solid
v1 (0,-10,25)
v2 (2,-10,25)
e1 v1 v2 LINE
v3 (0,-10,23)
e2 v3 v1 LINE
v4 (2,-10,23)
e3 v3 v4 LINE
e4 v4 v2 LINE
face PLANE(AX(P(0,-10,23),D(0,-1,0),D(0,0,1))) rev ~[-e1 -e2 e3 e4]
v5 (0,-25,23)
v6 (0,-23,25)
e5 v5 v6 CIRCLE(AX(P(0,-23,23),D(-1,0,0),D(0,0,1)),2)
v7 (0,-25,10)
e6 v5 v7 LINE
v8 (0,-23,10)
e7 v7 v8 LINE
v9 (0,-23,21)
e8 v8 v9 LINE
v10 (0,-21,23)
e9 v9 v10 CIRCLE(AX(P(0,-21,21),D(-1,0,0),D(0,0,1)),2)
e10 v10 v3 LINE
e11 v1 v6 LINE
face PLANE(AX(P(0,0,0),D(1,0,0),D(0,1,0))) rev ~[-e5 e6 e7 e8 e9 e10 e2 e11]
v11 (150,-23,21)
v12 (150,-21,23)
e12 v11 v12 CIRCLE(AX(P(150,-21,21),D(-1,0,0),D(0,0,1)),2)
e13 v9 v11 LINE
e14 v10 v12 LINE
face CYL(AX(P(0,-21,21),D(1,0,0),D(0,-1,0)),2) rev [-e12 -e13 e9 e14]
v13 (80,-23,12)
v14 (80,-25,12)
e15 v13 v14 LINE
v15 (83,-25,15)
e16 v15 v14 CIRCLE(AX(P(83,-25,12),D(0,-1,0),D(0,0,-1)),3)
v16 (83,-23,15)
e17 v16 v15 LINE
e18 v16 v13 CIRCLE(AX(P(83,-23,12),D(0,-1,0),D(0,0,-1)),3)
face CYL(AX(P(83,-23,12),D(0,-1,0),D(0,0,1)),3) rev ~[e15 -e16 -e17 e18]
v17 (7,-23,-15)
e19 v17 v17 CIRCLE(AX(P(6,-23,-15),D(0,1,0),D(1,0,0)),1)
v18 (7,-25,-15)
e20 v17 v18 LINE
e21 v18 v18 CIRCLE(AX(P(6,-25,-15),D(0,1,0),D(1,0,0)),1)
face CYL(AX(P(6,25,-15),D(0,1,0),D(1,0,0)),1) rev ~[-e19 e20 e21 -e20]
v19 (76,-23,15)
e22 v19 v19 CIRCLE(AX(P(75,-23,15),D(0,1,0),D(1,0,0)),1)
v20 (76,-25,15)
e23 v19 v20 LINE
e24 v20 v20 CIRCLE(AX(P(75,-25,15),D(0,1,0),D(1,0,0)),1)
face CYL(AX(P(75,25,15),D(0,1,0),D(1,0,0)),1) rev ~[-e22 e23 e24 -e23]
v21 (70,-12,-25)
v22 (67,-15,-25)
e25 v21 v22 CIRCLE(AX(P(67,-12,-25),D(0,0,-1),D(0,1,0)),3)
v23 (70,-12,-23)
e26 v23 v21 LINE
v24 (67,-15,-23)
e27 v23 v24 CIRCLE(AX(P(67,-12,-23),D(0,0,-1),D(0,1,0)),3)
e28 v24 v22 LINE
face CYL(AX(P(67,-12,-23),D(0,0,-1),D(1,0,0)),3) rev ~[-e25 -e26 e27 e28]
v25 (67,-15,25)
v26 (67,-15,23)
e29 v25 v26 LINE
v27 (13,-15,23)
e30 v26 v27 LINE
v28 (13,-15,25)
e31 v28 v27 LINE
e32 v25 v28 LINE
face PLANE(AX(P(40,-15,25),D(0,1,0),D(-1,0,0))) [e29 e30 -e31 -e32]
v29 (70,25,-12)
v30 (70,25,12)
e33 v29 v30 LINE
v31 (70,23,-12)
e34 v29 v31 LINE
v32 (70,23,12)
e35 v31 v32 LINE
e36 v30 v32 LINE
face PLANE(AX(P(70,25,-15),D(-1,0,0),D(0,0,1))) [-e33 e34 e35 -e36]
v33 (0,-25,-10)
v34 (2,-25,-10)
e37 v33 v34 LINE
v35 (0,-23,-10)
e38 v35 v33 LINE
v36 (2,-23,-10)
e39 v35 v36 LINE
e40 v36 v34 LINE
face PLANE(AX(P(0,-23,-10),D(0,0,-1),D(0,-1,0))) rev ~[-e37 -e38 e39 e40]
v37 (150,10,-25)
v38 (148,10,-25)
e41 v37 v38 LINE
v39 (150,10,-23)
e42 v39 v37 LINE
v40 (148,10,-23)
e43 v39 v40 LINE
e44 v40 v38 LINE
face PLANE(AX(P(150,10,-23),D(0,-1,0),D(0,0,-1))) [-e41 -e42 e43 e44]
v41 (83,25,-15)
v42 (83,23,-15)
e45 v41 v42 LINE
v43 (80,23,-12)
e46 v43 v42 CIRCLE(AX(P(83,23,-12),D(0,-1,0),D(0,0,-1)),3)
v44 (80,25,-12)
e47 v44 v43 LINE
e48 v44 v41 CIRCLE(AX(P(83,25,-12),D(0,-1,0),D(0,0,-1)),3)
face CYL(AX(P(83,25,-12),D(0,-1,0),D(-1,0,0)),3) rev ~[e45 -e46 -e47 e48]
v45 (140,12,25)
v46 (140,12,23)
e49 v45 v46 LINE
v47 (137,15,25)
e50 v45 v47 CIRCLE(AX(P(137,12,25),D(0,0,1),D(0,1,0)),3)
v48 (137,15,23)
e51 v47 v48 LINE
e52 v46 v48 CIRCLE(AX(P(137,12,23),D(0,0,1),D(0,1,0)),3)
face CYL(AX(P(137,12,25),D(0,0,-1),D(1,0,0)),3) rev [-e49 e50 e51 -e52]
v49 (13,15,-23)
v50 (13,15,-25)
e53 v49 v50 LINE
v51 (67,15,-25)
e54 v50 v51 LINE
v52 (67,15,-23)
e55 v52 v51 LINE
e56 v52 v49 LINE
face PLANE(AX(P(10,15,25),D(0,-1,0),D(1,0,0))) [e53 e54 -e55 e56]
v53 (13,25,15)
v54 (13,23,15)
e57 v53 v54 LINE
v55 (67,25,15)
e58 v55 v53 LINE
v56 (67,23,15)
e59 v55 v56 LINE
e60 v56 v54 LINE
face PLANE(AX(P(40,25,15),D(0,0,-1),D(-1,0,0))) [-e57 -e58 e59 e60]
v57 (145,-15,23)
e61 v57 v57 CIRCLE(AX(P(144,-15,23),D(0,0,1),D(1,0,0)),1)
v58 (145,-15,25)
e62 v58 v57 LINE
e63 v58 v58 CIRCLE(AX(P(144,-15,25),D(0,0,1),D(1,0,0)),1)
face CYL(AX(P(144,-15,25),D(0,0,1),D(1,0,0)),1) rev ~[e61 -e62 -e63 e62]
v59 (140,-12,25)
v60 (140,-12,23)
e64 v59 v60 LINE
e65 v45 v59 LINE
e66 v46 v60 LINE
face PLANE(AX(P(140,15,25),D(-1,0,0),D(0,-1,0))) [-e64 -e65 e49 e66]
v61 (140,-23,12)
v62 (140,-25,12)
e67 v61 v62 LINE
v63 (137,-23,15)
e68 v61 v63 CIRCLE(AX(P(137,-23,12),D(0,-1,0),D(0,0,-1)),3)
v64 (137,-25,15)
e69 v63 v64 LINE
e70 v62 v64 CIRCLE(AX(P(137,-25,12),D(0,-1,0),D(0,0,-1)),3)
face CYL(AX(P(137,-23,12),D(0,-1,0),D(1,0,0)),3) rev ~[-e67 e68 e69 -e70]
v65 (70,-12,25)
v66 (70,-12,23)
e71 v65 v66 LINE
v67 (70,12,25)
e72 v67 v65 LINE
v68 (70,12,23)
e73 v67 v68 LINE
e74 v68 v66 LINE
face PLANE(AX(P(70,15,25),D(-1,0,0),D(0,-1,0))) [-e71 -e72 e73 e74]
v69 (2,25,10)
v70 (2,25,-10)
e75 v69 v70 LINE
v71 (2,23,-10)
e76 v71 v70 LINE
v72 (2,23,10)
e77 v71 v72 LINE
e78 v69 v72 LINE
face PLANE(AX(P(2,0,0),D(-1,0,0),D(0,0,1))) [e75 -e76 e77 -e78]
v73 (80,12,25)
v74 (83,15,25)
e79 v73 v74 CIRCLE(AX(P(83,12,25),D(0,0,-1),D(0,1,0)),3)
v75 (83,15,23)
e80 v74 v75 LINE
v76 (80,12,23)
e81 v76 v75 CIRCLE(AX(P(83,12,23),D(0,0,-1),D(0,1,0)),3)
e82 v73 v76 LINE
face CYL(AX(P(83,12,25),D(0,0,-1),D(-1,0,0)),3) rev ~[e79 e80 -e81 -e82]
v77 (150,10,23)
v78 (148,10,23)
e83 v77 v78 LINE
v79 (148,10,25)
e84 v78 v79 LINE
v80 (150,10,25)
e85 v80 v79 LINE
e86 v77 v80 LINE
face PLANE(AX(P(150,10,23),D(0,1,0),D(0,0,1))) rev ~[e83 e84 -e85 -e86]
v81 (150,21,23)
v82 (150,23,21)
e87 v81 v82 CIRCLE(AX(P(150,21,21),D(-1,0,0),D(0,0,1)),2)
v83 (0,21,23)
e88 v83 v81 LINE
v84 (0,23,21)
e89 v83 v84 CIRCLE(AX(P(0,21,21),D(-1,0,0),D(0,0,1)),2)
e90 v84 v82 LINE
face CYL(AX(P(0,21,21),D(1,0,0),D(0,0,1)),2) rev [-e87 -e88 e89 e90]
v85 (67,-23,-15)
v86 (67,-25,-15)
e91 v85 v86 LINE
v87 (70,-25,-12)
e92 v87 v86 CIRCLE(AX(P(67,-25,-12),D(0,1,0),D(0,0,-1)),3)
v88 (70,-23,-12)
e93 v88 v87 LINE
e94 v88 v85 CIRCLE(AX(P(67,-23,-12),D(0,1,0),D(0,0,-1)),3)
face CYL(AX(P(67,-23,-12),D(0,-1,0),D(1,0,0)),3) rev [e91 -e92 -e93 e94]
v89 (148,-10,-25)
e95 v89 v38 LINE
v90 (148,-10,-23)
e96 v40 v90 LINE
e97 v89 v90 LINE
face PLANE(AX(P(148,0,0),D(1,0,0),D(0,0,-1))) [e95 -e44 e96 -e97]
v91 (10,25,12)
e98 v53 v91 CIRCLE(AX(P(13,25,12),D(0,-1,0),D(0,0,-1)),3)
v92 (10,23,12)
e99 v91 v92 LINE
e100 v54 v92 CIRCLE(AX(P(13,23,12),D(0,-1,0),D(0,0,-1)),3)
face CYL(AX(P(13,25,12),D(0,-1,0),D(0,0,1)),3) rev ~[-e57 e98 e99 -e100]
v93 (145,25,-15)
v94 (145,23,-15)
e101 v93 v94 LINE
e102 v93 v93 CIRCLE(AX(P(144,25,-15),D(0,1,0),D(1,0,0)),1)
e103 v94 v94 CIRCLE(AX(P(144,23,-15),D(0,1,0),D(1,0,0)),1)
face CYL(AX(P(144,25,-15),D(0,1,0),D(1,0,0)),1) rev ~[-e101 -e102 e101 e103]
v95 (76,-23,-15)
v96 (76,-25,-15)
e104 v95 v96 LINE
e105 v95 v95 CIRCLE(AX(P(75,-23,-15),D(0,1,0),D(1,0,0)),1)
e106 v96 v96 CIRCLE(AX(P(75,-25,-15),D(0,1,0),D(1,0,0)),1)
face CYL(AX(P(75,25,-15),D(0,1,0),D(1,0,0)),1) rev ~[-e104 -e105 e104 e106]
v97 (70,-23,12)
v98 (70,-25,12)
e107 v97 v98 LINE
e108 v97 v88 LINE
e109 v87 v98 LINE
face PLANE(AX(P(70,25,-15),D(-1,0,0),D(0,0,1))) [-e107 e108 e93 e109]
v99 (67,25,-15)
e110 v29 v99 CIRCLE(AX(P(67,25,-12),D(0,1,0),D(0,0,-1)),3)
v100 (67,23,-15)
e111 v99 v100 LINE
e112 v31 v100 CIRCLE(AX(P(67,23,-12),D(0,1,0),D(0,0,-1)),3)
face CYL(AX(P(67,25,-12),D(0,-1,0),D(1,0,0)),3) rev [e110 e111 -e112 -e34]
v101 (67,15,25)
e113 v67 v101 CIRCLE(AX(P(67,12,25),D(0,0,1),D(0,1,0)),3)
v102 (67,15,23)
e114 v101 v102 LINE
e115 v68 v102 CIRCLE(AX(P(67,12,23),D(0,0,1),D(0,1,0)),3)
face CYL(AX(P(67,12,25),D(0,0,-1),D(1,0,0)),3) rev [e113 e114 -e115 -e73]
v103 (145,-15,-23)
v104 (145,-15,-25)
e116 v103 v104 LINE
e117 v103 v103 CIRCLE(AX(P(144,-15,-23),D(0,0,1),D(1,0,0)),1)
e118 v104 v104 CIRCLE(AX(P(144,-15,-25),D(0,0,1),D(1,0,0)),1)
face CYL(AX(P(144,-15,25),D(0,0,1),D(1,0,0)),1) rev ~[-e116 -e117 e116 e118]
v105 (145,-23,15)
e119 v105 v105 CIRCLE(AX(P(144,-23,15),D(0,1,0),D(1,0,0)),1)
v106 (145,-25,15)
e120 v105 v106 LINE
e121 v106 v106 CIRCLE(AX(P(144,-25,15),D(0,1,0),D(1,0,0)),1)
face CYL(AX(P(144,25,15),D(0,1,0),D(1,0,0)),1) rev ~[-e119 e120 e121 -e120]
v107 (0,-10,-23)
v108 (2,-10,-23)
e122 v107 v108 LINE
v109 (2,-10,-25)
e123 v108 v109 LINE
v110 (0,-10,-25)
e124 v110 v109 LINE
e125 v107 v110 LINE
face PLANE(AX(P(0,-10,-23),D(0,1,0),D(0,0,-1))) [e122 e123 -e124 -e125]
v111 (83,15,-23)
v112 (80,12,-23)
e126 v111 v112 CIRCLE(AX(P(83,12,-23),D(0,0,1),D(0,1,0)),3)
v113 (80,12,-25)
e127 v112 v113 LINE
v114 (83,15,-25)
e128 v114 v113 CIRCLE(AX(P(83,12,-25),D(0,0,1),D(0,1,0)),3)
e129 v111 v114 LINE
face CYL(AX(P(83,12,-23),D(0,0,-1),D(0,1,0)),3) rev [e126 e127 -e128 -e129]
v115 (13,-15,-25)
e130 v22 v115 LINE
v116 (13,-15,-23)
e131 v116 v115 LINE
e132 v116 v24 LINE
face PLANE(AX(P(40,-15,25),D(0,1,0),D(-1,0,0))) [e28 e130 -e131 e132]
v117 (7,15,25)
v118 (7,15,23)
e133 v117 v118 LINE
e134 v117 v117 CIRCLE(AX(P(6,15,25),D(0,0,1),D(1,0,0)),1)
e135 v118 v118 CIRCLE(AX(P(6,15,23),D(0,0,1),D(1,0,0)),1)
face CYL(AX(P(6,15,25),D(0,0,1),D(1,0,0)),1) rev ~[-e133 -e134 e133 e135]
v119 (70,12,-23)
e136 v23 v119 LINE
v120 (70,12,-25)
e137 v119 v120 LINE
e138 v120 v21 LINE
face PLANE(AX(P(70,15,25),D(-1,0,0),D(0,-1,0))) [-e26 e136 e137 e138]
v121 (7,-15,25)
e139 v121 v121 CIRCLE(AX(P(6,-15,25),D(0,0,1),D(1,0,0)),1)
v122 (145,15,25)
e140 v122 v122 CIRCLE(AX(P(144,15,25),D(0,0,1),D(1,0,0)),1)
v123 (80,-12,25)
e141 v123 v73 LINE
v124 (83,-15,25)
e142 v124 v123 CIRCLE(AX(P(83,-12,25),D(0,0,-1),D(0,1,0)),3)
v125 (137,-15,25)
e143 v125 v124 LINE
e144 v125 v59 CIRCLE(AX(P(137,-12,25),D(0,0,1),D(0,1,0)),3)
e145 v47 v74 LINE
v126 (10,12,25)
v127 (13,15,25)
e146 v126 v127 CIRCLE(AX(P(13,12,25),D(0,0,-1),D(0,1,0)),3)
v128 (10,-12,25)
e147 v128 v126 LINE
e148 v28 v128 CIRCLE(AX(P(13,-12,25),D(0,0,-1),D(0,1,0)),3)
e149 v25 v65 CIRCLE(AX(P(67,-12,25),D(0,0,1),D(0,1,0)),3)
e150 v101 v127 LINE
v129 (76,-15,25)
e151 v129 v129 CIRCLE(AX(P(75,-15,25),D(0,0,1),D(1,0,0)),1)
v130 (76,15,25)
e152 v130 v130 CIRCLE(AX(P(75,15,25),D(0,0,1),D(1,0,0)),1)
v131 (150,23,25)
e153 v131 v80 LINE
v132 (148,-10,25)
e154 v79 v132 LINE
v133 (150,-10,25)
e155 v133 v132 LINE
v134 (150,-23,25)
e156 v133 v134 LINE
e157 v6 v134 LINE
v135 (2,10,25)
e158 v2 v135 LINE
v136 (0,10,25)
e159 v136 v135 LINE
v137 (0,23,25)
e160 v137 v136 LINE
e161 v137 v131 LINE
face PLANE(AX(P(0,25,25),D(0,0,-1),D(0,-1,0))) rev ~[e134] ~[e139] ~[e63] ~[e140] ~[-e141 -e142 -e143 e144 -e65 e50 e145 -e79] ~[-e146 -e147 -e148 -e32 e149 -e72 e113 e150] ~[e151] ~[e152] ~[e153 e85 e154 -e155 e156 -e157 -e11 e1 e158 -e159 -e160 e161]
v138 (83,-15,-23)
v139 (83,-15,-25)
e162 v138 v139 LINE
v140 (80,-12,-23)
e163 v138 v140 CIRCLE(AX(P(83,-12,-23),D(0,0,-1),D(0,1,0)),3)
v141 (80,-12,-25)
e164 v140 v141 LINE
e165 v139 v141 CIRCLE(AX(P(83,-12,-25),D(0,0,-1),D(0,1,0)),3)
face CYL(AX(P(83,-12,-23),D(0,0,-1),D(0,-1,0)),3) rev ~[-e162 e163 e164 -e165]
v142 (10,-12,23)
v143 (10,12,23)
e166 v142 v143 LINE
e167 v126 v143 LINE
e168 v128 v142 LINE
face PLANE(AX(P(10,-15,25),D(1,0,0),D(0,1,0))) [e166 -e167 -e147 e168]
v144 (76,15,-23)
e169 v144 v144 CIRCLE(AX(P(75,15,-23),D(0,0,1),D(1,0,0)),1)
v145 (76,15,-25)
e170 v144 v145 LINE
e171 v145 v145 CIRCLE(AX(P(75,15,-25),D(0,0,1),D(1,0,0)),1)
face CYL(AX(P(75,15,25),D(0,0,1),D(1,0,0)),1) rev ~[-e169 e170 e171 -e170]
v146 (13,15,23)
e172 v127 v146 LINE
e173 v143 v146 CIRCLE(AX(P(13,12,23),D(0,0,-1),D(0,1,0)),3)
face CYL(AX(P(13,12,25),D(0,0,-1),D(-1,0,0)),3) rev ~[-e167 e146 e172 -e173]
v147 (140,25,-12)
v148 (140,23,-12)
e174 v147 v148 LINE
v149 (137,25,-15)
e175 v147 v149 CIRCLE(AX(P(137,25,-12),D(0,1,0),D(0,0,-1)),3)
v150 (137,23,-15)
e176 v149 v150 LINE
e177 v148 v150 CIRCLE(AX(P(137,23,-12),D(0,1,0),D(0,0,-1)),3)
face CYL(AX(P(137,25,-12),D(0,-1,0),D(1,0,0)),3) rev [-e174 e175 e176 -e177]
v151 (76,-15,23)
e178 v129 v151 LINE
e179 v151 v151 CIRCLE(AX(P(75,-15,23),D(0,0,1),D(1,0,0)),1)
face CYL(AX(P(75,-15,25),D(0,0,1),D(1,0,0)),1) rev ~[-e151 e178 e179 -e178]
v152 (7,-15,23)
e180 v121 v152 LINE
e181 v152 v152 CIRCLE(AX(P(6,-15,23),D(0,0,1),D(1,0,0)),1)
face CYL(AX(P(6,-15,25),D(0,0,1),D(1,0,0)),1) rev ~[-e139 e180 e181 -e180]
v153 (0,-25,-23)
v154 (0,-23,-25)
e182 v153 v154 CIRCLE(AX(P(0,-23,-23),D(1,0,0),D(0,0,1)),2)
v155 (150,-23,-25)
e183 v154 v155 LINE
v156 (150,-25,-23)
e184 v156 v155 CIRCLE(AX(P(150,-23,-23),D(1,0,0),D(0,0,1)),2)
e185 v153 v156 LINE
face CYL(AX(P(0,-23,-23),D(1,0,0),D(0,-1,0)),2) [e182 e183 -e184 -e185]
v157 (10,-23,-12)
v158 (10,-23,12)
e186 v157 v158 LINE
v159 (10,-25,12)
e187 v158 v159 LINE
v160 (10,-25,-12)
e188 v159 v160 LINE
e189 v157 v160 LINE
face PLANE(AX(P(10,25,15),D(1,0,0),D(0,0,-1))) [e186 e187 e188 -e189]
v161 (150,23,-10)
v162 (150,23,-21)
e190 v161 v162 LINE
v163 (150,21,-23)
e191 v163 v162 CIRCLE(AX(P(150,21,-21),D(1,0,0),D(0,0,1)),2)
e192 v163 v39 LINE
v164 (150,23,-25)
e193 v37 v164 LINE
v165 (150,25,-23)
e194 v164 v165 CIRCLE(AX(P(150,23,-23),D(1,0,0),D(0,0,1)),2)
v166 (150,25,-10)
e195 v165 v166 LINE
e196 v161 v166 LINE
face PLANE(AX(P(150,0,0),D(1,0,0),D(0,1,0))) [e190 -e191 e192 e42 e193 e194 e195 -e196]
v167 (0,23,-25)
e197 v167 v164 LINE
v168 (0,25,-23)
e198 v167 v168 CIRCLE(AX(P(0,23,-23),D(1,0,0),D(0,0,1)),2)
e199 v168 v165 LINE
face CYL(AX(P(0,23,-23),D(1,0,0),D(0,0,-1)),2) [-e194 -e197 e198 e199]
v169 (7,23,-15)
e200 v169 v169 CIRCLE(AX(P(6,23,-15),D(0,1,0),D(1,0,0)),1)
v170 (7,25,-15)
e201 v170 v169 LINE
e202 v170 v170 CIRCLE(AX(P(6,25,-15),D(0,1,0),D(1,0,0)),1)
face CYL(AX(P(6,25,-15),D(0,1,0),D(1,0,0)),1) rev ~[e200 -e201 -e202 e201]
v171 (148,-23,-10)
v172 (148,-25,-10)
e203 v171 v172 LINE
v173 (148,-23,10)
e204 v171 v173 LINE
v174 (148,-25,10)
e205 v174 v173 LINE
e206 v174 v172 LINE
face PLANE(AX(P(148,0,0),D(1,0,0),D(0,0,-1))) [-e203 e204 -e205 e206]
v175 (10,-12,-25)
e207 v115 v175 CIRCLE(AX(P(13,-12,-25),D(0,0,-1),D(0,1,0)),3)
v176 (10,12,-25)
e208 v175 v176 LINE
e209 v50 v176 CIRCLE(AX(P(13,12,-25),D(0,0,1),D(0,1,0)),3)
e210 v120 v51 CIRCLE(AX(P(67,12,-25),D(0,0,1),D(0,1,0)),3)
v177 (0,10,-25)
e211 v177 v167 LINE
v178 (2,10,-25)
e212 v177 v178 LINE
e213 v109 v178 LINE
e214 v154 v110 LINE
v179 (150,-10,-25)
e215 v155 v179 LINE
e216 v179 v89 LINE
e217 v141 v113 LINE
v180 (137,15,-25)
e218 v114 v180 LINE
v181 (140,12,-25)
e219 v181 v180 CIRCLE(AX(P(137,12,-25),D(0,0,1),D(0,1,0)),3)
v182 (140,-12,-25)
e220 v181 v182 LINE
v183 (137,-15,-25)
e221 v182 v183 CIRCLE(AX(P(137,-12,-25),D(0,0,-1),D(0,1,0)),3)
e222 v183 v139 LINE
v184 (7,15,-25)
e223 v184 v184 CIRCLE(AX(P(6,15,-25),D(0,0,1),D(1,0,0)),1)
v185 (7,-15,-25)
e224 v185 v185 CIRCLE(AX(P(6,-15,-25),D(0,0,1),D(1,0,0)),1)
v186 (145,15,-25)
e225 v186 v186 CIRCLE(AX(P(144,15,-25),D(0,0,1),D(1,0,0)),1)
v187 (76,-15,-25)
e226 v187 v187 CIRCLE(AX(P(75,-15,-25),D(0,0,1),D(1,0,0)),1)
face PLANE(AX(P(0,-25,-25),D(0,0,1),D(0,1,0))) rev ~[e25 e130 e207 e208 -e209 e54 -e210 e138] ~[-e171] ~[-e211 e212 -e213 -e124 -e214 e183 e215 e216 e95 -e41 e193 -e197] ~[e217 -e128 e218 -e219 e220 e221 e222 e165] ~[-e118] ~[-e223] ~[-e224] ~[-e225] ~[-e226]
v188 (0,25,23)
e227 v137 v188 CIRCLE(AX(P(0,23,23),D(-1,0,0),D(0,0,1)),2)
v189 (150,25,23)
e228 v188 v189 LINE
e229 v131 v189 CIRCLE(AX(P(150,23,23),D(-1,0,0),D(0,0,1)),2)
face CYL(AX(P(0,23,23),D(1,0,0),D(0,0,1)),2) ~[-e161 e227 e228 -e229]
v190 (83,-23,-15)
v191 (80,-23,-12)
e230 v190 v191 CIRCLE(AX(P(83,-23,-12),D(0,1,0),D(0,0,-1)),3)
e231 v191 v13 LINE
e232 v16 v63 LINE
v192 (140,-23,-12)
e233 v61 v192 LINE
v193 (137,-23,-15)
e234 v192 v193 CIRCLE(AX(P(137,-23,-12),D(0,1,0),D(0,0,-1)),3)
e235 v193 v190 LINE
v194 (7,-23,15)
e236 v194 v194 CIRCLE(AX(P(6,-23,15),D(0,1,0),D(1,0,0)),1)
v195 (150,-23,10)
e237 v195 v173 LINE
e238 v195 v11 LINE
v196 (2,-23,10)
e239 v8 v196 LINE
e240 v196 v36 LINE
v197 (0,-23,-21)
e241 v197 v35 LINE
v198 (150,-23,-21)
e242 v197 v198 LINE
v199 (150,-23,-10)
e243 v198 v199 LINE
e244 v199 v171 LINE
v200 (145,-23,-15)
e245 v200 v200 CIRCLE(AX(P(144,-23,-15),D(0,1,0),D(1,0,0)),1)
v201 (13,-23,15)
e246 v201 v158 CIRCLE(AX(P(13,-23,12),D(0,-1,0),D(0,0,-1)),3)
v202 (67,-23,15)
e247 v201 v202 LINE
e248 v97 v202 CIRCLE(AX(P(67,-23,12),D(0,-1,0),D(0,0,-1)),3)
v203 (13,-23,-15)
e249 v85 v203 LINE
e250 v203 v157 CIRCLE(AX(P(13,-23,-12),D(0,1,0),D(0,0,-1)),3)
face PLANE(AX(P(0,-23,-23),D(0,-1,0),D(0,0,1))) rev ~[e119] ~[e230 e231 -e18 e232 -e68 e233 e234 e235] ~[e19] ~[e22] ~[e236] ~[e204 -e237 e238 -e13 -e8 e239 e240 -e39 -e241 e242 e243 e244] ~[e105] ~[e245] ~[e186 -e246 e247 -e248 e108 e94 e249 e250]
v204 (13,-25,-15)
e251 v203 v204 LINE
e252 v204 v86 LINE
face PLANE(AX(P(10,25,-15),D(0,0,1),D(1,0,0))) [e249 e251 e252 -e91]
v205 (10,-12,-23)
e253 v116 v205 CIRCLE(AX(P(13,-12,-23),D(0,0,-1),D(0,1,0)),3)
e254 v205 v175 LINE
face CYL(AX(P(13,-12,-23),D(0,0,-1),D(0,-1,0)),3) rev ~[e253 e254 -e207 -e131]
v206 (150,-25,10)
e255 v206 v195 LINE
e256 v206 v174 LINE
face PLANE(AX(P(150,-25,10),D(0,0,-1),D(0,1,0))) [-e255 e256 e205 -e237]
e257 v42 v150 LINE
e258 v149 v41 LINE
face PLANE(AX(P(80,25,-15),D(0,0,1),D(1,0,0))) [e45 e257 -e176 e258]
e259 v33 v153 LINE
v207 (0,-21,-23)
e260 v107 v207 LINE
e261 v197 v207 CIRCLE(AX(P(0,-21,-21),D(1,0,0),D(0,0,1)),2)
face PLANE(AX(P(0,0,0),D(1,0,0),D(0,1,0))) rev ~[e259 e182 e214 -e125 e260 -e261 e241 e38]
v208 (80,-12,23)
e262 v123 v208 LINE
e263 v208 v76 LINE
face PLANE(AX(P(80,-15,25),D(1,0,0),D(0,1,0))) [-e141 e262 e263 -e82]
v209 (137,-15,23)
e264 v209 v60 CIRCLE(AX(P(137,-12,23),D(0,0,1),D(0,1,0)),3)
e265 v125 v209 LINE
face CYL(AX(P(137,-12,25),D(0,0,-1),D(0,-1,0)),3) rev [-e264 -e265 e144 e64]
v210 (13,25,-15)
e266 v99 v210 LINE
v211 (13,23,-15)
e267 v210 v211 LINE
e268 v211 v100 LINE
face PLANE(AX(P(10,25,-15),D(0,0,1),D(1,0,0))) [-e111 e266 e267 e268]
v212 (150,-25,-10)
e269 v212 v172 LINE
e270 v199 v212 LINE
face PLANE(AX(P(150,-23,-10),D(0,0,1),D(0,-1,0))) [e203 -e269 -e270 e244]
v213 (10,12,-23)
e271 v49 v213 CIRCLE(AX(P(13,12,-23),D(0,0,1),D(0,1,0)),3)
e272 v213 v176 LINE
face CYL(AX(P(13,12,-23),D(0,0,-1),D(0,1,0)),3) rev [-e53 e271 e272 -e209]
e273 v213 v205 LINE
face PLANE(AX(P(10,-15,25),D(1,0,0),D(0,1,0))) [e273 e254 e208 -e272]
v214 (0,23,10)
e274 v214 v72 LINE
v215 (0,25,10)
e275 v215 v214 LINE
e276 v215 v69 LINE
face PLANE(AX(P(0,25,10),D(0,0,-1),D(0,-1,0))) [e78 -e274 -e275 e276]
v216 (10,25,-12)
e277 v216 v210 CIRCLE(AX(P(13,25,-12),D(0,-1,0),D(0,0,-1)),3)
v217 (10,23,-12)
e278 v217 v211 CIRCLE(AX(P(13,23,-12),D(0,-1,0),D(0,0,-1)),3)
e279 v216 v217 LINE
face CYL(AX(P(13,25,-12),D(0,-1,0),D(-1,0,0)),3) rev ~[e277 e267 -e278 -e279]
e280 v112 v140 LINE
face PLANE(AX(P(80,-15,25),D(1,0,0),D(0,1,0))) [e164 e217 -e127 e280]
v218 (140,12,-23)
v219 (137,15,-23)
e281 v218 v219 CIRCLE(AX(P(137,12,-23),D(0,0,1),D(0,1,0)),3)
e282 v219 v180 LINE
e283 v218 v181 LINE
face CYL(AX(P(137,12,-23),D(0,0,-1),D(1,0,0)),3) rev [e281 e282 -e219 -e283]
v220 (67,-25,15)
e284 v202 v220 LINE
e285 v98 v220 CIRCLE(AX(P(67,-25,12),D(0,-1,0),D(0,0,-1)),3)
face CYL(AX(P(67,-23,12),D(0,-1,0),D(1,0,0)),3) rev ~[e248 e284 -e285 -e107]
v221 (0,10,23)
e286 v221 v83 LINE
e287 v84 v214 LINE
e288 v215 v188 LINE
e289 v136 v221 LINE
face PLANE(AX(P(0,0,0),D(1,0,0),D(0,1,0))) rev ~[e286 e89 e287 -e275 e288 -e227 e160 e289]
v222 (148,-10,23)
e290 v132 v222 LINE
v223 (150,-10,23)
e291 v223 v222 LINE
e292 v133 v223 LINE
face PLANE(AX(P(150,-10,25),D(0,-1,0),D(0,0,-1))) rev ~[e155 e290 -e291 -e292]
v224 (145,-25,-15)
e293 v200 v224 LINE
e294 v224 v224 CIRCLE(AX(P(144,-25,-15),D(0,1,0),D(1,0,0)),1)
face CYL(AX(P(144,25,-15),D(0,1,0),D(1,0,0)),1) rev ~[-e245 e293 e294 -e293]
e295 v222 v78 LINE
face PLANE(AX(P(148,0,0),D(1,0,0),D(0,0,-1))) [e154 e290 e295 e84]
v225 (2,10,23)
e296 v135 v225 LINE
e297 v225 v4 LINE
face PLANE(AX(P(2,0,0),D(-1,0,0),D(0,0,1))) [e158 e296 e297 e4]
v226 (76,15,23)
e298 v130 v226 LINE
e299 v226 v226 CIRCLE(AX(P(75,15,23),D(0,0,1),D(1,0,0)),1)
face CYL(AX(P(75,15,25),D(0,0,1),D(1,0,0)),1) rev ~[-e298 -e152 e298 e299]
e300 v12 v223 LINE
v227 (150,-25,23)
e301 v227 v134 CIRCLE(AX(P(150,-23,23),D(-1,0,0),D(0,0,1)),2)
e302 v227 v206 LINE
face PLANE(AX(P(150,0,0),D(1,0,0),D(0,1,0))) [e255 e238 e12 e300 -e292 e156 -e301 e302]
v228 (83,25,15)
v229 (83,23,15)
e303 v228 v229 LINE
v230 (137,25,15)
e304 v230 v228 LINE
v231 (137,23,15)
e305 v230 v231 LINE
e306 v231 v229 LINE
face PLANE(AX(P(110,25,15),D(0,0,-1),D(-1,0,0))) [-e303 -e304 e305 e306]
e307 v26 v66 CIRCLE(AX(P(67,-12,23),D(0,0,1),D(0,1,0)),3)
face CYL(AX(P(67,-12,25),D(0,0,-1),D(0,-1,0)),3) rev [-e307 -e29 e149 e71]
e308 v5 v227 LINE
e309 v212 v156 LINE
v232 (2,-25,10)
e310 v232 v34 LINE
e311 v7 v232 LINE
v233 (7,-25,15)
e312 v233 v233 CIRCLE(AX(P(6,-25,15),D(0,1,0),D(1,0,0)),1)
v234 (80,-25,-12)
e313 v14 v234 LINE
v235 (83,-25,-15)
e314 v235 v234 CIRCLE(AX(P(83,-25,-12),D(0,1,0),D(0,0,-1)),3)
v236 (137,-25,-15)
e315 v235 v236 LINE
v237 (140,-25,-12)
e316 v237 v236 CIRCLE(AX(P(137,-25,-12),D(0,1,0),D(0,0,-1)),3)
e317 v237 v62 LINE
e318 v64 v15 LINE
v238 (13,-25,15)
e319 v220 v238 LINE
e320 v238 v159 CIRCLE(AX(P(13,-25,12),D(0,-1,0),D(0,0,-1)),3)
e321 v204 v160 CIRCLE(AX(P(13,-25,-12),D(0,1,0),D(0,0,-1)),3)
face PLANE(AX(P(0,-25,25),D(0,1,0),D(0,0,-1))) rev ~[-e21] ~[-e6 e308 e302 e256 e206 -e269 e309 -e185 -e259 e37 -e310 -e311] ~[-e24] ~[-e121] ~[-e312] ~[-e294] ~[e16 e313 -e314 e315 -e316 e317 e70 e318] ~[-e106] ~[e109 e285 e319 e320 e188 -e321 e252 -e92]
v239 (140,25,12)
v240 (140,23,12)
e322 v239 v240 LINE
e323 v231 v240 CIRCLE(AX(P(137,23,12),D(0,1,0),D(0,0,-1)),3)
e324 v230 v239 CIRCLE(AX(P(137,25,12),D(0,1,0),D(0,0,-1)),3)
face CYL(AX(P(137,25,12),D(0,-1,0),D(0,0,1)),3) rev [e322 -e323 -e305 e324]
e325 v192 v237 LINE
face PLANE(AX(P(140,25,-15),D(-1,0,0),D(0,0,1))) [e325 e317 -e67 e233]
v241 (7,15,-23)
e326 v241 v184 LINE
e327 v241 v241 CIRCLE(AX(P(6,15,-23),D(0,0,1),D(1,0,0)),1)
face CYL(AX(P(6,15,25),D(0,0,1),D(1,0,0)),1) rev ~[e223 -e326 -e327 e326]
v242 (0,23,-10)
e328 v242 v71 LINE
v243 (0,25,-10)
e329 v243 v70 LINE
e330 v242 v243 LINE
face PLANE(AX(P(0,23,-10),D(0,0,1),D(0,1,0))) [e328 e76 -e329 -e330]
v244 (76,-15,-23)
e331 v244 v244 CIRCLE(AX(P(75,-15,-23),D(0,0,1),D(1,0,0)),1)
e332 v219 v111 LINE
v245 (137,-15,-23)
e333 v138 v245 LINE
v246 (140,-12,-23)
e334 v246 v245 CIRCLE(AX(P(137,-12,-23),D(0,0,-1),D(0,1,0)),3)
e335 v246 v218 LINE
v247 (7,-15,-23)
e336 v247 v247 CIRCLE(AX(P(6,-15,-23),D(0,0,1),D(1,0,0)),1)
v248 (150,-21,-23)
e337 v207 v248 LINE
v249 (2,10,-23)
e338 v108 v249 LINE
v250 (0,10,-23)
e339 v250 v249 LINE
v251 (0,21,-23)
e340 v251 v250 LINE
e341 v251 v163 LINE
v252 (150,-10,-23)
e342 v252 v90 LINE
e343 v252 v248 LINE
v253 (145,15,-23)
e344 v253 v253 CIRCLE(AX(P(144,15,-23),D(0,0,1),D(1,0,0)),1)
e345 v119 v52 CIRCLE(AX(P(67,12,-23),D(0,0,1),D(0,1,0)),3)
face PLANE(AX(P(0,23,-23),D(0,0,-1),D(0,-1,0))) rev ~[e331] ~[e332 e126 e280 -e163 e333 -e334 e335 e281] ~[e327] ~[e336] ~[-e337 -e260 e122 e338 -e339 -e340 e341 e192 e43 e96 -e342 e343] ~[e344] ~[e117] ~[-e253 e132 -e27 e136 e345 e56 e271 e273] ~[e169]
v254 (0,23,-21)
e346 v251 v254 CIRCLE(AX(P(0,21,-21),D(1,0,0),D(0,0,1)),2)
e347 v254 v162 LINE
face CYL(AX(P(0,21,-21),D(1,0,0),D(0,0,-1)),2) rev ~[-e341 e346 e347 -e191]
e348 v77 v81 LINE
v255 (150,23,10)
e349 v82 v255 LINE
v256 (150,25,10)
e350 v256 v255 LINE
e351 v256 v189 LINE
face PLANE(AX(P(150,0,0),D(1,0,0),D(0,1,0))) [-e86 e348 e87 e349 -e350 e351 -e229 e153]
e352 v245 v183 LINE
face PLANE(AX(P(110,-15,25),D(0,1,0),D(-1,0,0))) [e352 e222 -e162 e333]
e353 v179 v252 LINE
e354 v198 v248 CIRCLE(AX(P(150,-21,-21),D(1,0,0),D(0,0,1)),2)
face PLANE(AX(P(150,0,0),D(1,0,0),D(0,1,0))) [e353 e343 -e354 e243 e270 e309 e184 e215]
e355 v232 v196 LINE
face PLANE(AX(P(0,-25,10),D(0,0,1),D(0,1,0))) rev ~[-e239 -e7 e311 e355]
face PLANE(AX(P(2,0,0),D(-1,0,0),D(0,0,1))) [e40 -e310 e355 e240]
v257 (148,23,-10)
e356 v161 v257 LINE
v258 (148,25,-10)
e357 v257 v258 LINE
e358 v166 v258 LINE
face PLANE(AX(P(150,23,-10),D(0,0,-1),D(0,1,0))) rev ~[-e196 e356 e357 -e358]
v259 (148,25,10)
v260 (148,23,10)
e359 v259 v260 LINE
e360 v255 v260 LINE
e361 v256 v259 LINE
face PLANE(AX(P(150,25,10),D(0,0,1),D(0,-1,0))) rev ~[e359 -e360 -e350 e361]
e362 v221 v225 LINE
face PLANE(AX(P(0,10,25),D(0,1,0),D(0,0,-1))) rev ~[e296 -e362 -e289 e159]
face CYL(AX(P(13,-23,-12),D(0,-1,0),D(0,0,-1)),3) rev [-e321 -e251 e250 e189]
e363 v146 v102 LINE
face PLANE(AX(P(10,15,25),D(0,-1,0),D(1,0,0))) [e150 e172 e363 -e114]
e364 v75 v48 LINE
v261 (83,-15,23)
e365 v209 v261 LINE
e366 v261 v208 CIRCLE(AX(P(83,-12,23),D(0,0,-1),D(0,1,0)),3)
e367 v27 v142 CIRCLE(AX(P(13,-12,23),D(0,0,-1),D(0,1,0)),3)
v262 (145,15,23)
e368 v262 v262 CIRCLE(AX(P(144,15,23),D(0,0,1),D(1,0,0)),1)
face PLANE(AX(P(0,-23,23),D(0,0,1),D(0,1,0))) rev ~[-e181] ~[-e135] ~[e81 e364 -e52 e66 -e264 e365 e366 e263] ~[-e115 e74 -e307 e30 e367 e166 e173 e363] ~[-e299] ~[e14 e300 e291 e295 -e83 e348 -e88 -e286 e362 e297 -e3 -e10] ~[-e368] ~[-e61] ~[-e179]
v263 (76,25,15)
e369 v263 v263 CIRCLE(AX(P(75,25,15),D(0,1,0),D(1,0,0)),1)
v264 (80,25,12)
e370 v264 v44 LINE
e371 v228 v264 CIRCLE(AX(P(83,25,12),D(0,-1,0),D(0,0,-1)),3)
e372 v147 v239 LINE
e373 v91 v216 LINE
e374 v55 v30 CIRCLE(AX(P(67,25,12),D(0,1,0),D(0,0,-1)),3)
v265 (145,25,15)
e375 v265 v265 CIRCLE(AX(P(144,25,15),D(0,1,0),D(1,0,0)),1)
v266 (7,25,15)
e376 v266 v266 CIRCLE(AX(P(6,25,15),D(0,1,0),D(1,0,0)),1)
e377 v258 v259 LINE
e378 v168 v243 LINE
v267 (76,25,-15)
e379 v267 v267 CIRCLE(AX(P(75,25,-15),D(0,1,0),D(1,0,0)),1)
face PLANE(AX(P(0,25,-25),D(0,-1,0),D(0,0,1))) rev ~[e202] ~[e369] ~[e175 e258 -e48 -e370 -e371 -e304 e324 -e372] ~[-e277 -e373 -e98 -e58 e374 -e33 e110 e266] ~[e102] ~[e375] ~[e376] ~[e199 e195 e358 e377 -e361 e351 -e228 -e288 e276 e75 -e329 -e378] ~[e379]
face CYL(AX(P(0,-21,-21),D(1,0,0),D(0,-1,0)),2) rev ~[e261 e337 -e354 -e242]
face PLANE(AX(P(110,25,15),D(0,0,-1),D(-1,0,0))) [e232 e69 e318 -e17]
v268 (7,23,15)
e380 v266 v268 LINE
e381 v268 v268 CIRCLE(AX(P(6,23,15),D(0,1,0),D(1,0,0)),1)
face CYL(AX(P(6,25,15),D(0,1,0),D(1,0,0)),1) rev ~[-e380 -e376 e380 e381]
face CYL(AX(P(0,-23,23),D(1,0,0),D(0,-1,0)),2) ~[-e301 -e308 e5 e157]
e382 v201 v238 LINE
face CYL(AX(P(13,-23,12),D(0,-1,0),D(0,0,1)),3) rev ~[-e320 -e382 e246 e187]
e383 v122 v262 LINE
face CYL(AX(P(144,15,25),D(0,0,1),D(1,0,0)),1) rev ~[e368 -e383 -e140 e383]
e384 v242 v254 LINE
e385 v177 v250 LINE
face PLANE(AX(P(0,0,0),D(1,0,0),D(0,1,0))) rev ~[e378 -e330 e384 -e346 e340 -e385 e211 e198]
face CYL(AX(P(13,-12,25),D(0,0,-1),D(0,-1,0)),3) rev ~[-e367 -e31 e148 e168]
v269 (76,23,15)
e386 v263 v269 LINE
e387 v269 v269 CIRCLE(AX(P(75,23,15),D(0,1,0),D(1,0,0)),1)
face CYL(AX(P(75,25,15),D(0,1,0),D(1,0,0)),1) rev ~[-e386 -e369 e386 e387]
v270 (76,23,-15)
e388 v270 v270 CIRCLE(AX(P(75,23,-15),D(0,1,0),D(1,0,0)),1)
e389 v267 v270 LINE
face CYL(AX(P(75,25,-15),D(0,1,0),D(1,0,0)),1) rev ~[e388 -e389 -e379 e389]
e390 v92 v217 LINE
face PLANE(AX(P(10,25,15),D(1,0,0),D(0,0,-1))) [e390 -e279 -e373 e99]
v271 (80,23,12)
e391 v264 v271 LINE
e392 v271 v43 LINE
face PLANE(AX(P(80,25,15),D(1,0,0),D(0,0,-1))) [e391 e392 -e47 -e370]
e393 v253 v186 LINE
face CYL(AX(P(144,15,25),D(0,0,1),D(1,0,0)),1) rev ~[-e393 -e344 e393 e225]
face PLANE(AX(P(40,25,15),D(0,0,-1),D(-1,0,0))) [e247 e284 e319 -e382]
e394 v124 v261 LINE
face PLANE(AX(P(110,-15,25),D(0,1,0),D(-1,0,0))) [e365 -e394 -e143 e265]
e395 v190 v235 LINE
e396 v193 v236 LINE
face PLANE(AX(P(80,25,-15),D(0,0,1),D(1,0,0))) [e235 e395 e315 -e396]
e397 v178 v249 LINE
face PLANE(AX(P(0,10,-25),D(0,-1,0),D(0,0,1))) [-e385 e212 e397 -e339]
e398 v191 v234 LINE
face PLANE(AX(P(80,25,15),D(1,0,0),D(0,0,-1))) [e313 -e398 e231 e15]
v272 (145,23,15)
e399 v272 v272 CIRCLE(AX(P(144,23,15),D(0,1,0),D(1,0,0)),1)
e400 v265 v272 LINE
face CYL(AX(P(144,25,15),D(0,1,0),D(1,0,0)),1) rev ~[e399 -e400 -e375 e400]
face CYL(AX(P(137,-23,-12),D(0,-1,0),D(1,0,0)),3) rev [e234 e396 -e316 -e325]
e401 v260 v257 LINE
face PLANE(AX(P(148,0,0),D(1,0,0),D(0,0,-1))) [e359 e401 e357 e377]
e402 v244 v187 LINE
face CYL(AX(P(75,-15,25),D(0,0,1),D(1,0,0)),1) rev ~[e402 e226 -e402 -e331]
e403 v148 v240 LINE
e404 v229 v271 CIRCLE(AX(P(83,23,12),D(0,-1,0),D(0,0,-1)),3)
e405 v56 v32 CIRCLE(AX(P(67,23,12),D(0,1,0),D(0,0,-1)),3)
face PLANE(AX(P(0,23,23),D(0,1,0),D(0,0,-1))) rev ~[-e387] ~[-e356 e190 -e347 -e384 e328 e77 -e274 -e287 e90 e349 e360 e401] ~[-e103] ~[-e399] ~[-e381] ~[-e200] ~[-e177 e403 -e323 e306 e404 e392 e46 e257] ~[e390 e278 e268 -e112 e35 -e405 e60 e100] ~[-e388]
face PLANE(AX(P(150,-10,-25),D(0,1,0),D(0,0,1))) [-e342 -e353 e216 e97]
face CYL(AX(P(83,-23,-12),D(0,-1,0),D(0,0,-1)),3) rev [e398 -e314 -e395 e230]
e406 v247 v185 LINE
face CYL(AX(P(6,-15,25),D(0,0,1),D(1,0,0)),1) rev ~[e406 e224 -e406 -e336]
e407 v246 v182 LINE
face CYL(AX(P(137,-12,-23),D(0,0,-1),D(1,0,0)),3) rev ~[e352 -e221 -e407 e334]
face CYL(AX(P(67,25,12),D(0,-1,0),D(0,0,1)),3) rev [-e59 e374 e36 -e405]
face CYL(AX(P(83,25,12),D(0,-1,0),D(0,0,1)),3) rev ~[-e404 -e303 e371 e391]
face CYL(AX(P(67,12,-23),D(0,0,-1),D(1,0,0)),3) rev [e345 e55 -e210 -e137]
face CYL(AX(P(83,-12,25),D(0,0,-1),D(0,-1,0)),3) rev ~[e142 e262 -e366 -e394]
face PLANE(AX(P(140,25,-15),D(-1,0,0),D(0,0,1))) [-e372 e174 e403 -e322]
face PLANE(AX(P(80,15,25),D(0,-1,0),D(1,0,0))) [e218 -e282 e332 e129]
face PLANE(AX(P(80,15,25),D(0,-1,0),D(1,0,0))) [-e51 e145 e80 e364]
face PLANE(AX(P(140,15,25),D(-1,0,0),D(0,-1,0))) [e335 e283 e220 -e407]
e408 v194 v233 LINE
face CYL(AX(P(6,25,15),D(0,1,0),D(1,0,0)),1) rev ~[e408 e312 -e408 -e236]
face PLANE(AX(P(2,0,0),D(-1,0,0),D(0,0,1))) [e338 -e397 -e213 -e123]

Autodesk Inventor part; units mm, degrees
ref_plane "YZ Plane" through (0, 0, 0) normal (1, 0, 0) x (0, 1, 0)
ref_plane "XZ Plane" through (0, 0, 0) normal (0, 1, 0) x (-1, 0, 0)
ref_plane "XY Plane" through (0, 0, 0) normal (0, 0, 1) x (1, 0, 0)
sketch "Sketch1" plane through (0, 0, 0) normal (1, 0, 0) x (0, 1, 0)
  line L0 (-25, -25) -> (25, -25)
  line L1 (25, -25) -> (25, 25)
  line L2 (25, 25) -> (-25, 25)
  line L3 (-25, 25) -> (-25, -25)
  line L4 (-25, -25) -> (25, 25) construction
  line L5 (25, -25) -> (-25, 25) construction
  line L6 (-23, 23) -> (23, 23)
  line L7 (23, 23) -> (23, -23)
  line L8 (23, -23) -> (-23, -23)
  line L9 (-23, -23) -> (-23, 23)
  line L10 (-23, 23) -> (23, -23) construction
  line L11 (23, 23) -> (-23, -23) construction
  point P0 (0, 0)
  dimension "d0" = 50
  dimension "d1" = 50
  dimension "d2" = 46
  dimension "d3" = 46
extrude "Extrusion1" add sketch "Sketch1" along normal blind 150
sketch "Sketch2" plane through (0, 0, 0) normal (-1, 0, 0) x (0, 0, 1)
  line L0 (-23, 23) -> (-23, -23) projected
  line L1 (-23, 0) -> (-25, 0)
  line L2 (-25, -25) -> (-25, 25) projected
  line L3 (23, 23) -> (-23, 23) projected
  line L4 (0, 23) -> (0, 25)
  line L5 (-25, 25) -> (25, 25) projected
  line L6 (23, -23) -> (23, 23) projected
  line L7 (23, 0) -> (25, 0)
  line L8 (25, 25) -> (25, -25) projected
  line L9 (-23, -23) -> (23, -23) projected
  line L10 (0, -23) -> (0, -25)
  line L11 (25, -25) -> (-25, -25) projected
  line L12 (-23, -10) -> (-25, -10)
  line L13 (-25, -10) -> (-25, 10)
  line L14 (-25, 10) -> (-23, 10)
  line L15 (-23, 10) -> (-23, -10)
  line L16 (-23, -10) -> (-25, 10) construction
  line L17 (-25, -10) -> (-23, 10) construction
  line L18 (10, 23) -> (-10, 23)
  line L19 (-10, 23) -> (-10, 25)
  line L20 (-10, 25) -> (10, 25)
  line L21 (10, 25) -> (10, 23)
  line L22 (10, 23) -> (-10, 25) construction
  line L23 (-10, 23) -> (10, 25) construction
  line L24 (23, -10) -> (25, -10)
  line L25 (25, -10) -> (25, 10)
  line L26 (25, 10) -> (23, 10)
  line L27 (23, 10) -> (23, -10)
  line L28 (23, -10) -> (25, 10) construction
  line L29 (25, -10) -> (23, 10) construction
  line L30 (10, -23) -> (-10, -23)
  line L31 (-10, -23) -> (-10, -25)
  line L32 (-10, -25) -> (10, -25)
  line L33 (10, -25) -> (10, -23)
  line L34 (10, -23) -> (-10, -25) construction
  line L35 (-10, -23) -> (10, -25) construction
  point P0 (0, 0)
  point P1 (-24, 0)
  point P2 (0, 24)
  point P3 (24, 0)
  point P4 (0, -24)
  point P5 (10, 25)
  point P6 (-10, 23)
  dimension "d6" = 20
  dimension "d7" = 20
  dimension "d8" = 20
  dimension "d9" = 20
extrude "Extrusion2" cut sketch "Sketch2" against normal blind 2 contours L0 L1 L2 L14 | L19 L5 L4 L3 | L0 L12 L2 L1 | L4 L5 L21 L3 | L9 L10 L11 L31 | L26 L8 L7 L6 | L9 L33 L11 L10 | L7 L8 L24 L6
sketch "Sketch3" plane through (150, 0, 0) normal (1, 0, 0) x (0, 0, -1)
  line L0 (25, -10) -> (25, 10) projected
  line L1 (25, 0) -> (23, 0)
  line L2 (23, 23) -> (23, -23) projected
  line L3 (-10, 23) -> (10, 23) projected
  line L4 (0, 23) -> (0, 25)
  line L5 (10, 25) -> (-10, 25) projected
  line L6 (-25, -25) -> (25, -25) projected
  line L7 (0, -25) -> (0, -23)
  line L8 (23, -23) -> (-23, -23) projected
  line L9 (-23, -23) -> (-23, 23) projected
  line L10 (-23, 0) -> (-25, 0)
  line L11 (-25, 10) -> (-25, -10) projected
  line L12 (-25, -10) -> (-23, -10)
  line L13 (-23, -10) -> (-23, 10)
  line L14 (-23, 10) -> (-25, 10)
  line L15 (-25, 10) -> (-25, -10)
  line L16 (-25, -10) -> (-23, 10) construction
  line L17 (-23, -10) -> (-25, 10) construction
  line L18 (-10, -23) -> (10, -23)
  line L19 (10, -23) -> (10, -25)
  line L20 (10, -25) -> (-10, -25)
  line L21 (-10, -25) -> (-10, -23)
  line L22 (-10, -23) -> (10, -25) construction
  line L23 (10, -23) -> (-10, -25) construction
  line L24 (23, 10) -> (25, 10)
  line L25 (25, 10) -> (25, -10)
  line L26 (25, -10) -> (23, -10)
  line L27 (23, -10) -> (23, 10)
  line L28 (23, 10) -> (25, -10) construction
  line L29 (25, 10) -> (23, -10) construction
  line L30 (-10, 23) -> (10, 23)
  line L31 (10, 23) -> (10, 25)
  line L32 (10, 25) -> (-10, 25)
  line L33 (-10, 25) -> (-10, 23)
  line L34 (-10, 23) -> (10, 25) construction
  line L35 (10, 23) -> (-10, 25) construction
  point P0 (0, 0)
  point P1 (-24, 0)
  point P2 (0, -24)
  point P3 (24, 0)
  point P4 (0, 24)
  point P5 (10, -23)
  dimension "d12" = 20
  dimension "d13" = 20
  dimension "d14" = 20
  dimension "d15" = 20
extrude "Extrusion3" cut sketch "Sketch3" against normal blind 2
sketch "Sketch4" plane through (0, 25, -25) normal (0, 1, 0) x (1, 0, 0)
  line L0 (0, -50) -> (150, -50) projected
  line L1 (0, 0) -> (150, 0) projected
  line L2 (40, 0) -> (110, 0)
  line L3 (110, 0) -> (110, -50)
  line L4 (110, -50) -> (40, -50)
  line L5 (40, -50) -> (40, 0)
  line L6 (40, 0) -> (110, -50) construction
  line L7 (110, 0) -> (40, -50) construction
  line L8 (10, -10) -> (70, -10)
  line L9 (70, -10) -> (70, -40)
  line L10 (70, -40) -> (10, -40)
  line L11 (10, -40) -> (10, -10)
  line L12 (10, -10) -> (70, -40) construction
  line L13 (70, -10) -> (10, -40) construction
  line L14 (80, -10) -> (140, -10)
  line L15 (140, -10) -> (140, -40)
  line L16 (140, -40) -> (80, -40)
  line L17 (80, -40) -> (80, -10)
  line L18 (80, -10) -> (140, -40) construction
  line L19 (140, -10) -> (80, -40) construction
  line L20 (0, 0) -> (0, -15) projected
  line L21 (150, -35) -> (150, -50) projected
  point P0 (0, -25)
  point P1 (75, -25)
  point P2 (40, -25)
  point P3 (110, -25)
  dimension "d19" = 60
  dimension "d20" = 30
  dimension "d21" = 60
  dimension "d22" = 30
  dimension "d77" = 40
  dimension "d78" = 40
extrude "Extrusion4" cut sketch "Sketch4" against normal through all contours L10 L11 L8 L5 | L5 L8 L9 L10 | L16 L17 L14 L3 | L3 L14 L15 L16
sketch "Sketch7" plane through (0, 25, 25) normal (0, 0, 1) x (1, 0, 0)
  line L0 (0, -50) -> (150, -50) projected
  line L1 (0, 0) -> (150, 0) projected
  line L2 (40, 0) -> (110, 0)
  line L3 (110, 0) -> (110, -50)
  line L4 (110, -50) -> (40, -50)
  line L5 (40, -50) -> (40, 0)
  line L6 (40, 0) -> (110, -50) construction
  line L7 (110, 0) -> (40, -50) construction
  line L8 (80, -10) -> (140, -10)
  line L9 (140, -10) -> (140, -40)
  line L10 (140, -40) -> (80, -40)
  line L11 (80, -40) -> (80, -10)
  line L12 (80, -10) -> (140, -40) construction
  line L13 (140, -10) -> (80, -40) construction
  line L14 (10, -10) -> (70, -10)
  line L15 (70, -10) -> (70, -40)
  line L16 (70, -40) -> (10, -40)
  line L17 (10, -40) -> (10, -10)
  line L18 (10, -10) -> (70, -40) construction
  line L19 (70, -10) -> (10, -40) construction
  line L20 (0, 0) -> (0, -15) projected
  line L21 (150, 0) -> (150, -15) projected
  point P0 (0, -25)
  point P1 (75, -25)
  point P2 (110, -25)
  point P3 (40, -25)
  dimension "d26" = 50
  dimension "d27" = 60
  dimension "d28" = 30
  dimension "d29" = 60
  dimension "d30" = 30
  dimension "d117" = 40
  dimension "d118" = 40
extrude "Extrusion5" cut sketch "Sketch7" against normal through all contours L16 L17 L14 L5 | L5 L14 L15 L16 | L10 L11 L8 L3 | L3 L8 L9 L10
sketch "Sketch19" plane through (0, 25, -25) normal (0, 1, 0) x (1, 0, 0)
  line L0 (0, -15) -> (2, -15) projected
  line L1 (1.5, 0) -> (3.5, 0) projected
  line L2 (2, -15) -> (2, -35) projected
  line L3 (2, -50) -> (2, -48) projected
  line L4 (150, -35) -> (148, -35) projected
  line L5 (0, -50) -> (150, -50) projected
  line L6 (148, -15) -> (150, -15) projected
  line L7 (0, 0) -> (150, 0) projected
  line L8 (1.5, -50) -> (1.5, -48) projected
  line L9 (2.5, -35) -> (1.5, -35)
  line L10 (1.5, -50) -> (2.5, -50)
  line L11 (2.5, 0) -> (1.5, 0)
  line L12 (1.5, -15) -> (2.5, -15)
  line L13 (148.5, 0) -> (147.5, 0)
  line L14 (147.5, -15) -> (148.5, -15)
  line L15 (148.5, -35) -> (147.5, -35)
  line L16 (147.5, -50) -> (148.5, -50)
  circle A0 centre (6, -10) radius 1
  line L17 (0, 0) -> (0, -15) projected
  circle A1 centre (6, -40) radius 1
  line L18 (0, -35) -> (0, -50) projected
  circle A2 centre (144, -40) radius 1
  line L19 (150, -35) -> (150, -50) projected
  circle A3 centre (144, -10) radius 1
  line L20 (150, 0) -> (150, -15) projected
  circle A4 centre (75, -40) radius 1
  line L21 (70, -10) -> (70, -40) projected
  circle A5 centre (75, -10) radius 1
  point P0 (0, -25)
  dimension "d79" = 2
  dimension "d80" = 6
  dimension "d81" = 10
  dimension "d82" = 2
  dimension "d83" = 6
  dimension "d84" = 10
  dimension "d85" = 2
  dimension "d86" = 6
  dimension "d87" = 10
  dimension "d88" = 2
  dimension "d89" = 6
  dimension "d90" = 10
  dimension "d105" = 2
  dimension "d106" = 10
  dimension "d107" = 5
  dimension "d108" = 2
  dimension "d109" = 10
  dimension "d110" = 5
extrude "Extrusion14" cut sketch "Sketch19" against normal through all
sketch "Sketch21" plane through (0, 25, 25) normal (0, 0, 1) x (1, 0, 0)
  circle A0 centre (6, -40) radius 1
  line L0 (0, -48) -> (0, -35) projected
  line L1 (0, -50) -> (150, -50) projected
  circle A1 centre (6, -10) radius 1
  line L2 (0, 0) -> (0, -15) projected
  line L3 (0, 0) -> (150, 0) projected
  circle A2 centre (144, -10) radius 1
  line L4 (150, 0) -> (150, -15) projected
  circle A3 centre (144, -40) radius 1
  line L5 (150, -35) -> (150, -50) projected
  circle A4 centre (75, -10) radius 1
  line L6 (70, -10) -> (70, -40) projected
  circle A5 centre (75, -40) radius 1
  point P0 (0, -25)
  dimension "d91" = 2
  dimension "d92" = 6
  dimension "d93" = 10
  dimension "d94" = 2
  dimension "d95" = 6
  dimension "d96" = 10
  dimension "d97" = 2
  dimension "d98" = 10
  dimension "d99" = 6
  dimension "d100" = 2
  dimension "d101" = 6
  dimension "d102" = 10
  dimension "d111" = 2
  dimension "d112" = 5
  dimension "d113" = 10
  dimension "d114" = 2
  dimension "d115" = 10
  dimension "d116" = 5
extrude "Extrusion15" cut sketch "Sketch21" against normal through all
fillet "Fillet1" radius 3 32 edges at (10, -24, 15) (10, -24, -15) (70, -24, -15) (70, -24, 15) (80, -24, 15) (80, -24, -15) (140, -24, -15) (140, -24, 15) (10, -15, 24) (10, 15, 24) (10, 24, -15) (70, 15, 24) (70, 24, -15) (70, 15, -24) (70, -15, 24) (70, -15, -24) (140, -15, -24) (140, -15, 24) (140, 15, 24) (140, 15, -24) (140, 24, -15) (10, -15, -24) (70, 24, 15) (10, 24, 15) (80, 24, 15) (80, 24, -15) (80, -15, -24) (140, 24, 15) (80, -15, 24) (80, 15, 24) (80, 15, -24) (10, 15, -24)
fillet "Fillet2" radius 2 8 edges at (75, 23, 23) (75, 25, 25) (75, 23, -23) (75, 25, -25) (75, -25, 25) (75, -23, 23) (75, -23, -23) (75, -25, -25)
properties part number "MainPart1" material "Aluminum 6061, Welded"
